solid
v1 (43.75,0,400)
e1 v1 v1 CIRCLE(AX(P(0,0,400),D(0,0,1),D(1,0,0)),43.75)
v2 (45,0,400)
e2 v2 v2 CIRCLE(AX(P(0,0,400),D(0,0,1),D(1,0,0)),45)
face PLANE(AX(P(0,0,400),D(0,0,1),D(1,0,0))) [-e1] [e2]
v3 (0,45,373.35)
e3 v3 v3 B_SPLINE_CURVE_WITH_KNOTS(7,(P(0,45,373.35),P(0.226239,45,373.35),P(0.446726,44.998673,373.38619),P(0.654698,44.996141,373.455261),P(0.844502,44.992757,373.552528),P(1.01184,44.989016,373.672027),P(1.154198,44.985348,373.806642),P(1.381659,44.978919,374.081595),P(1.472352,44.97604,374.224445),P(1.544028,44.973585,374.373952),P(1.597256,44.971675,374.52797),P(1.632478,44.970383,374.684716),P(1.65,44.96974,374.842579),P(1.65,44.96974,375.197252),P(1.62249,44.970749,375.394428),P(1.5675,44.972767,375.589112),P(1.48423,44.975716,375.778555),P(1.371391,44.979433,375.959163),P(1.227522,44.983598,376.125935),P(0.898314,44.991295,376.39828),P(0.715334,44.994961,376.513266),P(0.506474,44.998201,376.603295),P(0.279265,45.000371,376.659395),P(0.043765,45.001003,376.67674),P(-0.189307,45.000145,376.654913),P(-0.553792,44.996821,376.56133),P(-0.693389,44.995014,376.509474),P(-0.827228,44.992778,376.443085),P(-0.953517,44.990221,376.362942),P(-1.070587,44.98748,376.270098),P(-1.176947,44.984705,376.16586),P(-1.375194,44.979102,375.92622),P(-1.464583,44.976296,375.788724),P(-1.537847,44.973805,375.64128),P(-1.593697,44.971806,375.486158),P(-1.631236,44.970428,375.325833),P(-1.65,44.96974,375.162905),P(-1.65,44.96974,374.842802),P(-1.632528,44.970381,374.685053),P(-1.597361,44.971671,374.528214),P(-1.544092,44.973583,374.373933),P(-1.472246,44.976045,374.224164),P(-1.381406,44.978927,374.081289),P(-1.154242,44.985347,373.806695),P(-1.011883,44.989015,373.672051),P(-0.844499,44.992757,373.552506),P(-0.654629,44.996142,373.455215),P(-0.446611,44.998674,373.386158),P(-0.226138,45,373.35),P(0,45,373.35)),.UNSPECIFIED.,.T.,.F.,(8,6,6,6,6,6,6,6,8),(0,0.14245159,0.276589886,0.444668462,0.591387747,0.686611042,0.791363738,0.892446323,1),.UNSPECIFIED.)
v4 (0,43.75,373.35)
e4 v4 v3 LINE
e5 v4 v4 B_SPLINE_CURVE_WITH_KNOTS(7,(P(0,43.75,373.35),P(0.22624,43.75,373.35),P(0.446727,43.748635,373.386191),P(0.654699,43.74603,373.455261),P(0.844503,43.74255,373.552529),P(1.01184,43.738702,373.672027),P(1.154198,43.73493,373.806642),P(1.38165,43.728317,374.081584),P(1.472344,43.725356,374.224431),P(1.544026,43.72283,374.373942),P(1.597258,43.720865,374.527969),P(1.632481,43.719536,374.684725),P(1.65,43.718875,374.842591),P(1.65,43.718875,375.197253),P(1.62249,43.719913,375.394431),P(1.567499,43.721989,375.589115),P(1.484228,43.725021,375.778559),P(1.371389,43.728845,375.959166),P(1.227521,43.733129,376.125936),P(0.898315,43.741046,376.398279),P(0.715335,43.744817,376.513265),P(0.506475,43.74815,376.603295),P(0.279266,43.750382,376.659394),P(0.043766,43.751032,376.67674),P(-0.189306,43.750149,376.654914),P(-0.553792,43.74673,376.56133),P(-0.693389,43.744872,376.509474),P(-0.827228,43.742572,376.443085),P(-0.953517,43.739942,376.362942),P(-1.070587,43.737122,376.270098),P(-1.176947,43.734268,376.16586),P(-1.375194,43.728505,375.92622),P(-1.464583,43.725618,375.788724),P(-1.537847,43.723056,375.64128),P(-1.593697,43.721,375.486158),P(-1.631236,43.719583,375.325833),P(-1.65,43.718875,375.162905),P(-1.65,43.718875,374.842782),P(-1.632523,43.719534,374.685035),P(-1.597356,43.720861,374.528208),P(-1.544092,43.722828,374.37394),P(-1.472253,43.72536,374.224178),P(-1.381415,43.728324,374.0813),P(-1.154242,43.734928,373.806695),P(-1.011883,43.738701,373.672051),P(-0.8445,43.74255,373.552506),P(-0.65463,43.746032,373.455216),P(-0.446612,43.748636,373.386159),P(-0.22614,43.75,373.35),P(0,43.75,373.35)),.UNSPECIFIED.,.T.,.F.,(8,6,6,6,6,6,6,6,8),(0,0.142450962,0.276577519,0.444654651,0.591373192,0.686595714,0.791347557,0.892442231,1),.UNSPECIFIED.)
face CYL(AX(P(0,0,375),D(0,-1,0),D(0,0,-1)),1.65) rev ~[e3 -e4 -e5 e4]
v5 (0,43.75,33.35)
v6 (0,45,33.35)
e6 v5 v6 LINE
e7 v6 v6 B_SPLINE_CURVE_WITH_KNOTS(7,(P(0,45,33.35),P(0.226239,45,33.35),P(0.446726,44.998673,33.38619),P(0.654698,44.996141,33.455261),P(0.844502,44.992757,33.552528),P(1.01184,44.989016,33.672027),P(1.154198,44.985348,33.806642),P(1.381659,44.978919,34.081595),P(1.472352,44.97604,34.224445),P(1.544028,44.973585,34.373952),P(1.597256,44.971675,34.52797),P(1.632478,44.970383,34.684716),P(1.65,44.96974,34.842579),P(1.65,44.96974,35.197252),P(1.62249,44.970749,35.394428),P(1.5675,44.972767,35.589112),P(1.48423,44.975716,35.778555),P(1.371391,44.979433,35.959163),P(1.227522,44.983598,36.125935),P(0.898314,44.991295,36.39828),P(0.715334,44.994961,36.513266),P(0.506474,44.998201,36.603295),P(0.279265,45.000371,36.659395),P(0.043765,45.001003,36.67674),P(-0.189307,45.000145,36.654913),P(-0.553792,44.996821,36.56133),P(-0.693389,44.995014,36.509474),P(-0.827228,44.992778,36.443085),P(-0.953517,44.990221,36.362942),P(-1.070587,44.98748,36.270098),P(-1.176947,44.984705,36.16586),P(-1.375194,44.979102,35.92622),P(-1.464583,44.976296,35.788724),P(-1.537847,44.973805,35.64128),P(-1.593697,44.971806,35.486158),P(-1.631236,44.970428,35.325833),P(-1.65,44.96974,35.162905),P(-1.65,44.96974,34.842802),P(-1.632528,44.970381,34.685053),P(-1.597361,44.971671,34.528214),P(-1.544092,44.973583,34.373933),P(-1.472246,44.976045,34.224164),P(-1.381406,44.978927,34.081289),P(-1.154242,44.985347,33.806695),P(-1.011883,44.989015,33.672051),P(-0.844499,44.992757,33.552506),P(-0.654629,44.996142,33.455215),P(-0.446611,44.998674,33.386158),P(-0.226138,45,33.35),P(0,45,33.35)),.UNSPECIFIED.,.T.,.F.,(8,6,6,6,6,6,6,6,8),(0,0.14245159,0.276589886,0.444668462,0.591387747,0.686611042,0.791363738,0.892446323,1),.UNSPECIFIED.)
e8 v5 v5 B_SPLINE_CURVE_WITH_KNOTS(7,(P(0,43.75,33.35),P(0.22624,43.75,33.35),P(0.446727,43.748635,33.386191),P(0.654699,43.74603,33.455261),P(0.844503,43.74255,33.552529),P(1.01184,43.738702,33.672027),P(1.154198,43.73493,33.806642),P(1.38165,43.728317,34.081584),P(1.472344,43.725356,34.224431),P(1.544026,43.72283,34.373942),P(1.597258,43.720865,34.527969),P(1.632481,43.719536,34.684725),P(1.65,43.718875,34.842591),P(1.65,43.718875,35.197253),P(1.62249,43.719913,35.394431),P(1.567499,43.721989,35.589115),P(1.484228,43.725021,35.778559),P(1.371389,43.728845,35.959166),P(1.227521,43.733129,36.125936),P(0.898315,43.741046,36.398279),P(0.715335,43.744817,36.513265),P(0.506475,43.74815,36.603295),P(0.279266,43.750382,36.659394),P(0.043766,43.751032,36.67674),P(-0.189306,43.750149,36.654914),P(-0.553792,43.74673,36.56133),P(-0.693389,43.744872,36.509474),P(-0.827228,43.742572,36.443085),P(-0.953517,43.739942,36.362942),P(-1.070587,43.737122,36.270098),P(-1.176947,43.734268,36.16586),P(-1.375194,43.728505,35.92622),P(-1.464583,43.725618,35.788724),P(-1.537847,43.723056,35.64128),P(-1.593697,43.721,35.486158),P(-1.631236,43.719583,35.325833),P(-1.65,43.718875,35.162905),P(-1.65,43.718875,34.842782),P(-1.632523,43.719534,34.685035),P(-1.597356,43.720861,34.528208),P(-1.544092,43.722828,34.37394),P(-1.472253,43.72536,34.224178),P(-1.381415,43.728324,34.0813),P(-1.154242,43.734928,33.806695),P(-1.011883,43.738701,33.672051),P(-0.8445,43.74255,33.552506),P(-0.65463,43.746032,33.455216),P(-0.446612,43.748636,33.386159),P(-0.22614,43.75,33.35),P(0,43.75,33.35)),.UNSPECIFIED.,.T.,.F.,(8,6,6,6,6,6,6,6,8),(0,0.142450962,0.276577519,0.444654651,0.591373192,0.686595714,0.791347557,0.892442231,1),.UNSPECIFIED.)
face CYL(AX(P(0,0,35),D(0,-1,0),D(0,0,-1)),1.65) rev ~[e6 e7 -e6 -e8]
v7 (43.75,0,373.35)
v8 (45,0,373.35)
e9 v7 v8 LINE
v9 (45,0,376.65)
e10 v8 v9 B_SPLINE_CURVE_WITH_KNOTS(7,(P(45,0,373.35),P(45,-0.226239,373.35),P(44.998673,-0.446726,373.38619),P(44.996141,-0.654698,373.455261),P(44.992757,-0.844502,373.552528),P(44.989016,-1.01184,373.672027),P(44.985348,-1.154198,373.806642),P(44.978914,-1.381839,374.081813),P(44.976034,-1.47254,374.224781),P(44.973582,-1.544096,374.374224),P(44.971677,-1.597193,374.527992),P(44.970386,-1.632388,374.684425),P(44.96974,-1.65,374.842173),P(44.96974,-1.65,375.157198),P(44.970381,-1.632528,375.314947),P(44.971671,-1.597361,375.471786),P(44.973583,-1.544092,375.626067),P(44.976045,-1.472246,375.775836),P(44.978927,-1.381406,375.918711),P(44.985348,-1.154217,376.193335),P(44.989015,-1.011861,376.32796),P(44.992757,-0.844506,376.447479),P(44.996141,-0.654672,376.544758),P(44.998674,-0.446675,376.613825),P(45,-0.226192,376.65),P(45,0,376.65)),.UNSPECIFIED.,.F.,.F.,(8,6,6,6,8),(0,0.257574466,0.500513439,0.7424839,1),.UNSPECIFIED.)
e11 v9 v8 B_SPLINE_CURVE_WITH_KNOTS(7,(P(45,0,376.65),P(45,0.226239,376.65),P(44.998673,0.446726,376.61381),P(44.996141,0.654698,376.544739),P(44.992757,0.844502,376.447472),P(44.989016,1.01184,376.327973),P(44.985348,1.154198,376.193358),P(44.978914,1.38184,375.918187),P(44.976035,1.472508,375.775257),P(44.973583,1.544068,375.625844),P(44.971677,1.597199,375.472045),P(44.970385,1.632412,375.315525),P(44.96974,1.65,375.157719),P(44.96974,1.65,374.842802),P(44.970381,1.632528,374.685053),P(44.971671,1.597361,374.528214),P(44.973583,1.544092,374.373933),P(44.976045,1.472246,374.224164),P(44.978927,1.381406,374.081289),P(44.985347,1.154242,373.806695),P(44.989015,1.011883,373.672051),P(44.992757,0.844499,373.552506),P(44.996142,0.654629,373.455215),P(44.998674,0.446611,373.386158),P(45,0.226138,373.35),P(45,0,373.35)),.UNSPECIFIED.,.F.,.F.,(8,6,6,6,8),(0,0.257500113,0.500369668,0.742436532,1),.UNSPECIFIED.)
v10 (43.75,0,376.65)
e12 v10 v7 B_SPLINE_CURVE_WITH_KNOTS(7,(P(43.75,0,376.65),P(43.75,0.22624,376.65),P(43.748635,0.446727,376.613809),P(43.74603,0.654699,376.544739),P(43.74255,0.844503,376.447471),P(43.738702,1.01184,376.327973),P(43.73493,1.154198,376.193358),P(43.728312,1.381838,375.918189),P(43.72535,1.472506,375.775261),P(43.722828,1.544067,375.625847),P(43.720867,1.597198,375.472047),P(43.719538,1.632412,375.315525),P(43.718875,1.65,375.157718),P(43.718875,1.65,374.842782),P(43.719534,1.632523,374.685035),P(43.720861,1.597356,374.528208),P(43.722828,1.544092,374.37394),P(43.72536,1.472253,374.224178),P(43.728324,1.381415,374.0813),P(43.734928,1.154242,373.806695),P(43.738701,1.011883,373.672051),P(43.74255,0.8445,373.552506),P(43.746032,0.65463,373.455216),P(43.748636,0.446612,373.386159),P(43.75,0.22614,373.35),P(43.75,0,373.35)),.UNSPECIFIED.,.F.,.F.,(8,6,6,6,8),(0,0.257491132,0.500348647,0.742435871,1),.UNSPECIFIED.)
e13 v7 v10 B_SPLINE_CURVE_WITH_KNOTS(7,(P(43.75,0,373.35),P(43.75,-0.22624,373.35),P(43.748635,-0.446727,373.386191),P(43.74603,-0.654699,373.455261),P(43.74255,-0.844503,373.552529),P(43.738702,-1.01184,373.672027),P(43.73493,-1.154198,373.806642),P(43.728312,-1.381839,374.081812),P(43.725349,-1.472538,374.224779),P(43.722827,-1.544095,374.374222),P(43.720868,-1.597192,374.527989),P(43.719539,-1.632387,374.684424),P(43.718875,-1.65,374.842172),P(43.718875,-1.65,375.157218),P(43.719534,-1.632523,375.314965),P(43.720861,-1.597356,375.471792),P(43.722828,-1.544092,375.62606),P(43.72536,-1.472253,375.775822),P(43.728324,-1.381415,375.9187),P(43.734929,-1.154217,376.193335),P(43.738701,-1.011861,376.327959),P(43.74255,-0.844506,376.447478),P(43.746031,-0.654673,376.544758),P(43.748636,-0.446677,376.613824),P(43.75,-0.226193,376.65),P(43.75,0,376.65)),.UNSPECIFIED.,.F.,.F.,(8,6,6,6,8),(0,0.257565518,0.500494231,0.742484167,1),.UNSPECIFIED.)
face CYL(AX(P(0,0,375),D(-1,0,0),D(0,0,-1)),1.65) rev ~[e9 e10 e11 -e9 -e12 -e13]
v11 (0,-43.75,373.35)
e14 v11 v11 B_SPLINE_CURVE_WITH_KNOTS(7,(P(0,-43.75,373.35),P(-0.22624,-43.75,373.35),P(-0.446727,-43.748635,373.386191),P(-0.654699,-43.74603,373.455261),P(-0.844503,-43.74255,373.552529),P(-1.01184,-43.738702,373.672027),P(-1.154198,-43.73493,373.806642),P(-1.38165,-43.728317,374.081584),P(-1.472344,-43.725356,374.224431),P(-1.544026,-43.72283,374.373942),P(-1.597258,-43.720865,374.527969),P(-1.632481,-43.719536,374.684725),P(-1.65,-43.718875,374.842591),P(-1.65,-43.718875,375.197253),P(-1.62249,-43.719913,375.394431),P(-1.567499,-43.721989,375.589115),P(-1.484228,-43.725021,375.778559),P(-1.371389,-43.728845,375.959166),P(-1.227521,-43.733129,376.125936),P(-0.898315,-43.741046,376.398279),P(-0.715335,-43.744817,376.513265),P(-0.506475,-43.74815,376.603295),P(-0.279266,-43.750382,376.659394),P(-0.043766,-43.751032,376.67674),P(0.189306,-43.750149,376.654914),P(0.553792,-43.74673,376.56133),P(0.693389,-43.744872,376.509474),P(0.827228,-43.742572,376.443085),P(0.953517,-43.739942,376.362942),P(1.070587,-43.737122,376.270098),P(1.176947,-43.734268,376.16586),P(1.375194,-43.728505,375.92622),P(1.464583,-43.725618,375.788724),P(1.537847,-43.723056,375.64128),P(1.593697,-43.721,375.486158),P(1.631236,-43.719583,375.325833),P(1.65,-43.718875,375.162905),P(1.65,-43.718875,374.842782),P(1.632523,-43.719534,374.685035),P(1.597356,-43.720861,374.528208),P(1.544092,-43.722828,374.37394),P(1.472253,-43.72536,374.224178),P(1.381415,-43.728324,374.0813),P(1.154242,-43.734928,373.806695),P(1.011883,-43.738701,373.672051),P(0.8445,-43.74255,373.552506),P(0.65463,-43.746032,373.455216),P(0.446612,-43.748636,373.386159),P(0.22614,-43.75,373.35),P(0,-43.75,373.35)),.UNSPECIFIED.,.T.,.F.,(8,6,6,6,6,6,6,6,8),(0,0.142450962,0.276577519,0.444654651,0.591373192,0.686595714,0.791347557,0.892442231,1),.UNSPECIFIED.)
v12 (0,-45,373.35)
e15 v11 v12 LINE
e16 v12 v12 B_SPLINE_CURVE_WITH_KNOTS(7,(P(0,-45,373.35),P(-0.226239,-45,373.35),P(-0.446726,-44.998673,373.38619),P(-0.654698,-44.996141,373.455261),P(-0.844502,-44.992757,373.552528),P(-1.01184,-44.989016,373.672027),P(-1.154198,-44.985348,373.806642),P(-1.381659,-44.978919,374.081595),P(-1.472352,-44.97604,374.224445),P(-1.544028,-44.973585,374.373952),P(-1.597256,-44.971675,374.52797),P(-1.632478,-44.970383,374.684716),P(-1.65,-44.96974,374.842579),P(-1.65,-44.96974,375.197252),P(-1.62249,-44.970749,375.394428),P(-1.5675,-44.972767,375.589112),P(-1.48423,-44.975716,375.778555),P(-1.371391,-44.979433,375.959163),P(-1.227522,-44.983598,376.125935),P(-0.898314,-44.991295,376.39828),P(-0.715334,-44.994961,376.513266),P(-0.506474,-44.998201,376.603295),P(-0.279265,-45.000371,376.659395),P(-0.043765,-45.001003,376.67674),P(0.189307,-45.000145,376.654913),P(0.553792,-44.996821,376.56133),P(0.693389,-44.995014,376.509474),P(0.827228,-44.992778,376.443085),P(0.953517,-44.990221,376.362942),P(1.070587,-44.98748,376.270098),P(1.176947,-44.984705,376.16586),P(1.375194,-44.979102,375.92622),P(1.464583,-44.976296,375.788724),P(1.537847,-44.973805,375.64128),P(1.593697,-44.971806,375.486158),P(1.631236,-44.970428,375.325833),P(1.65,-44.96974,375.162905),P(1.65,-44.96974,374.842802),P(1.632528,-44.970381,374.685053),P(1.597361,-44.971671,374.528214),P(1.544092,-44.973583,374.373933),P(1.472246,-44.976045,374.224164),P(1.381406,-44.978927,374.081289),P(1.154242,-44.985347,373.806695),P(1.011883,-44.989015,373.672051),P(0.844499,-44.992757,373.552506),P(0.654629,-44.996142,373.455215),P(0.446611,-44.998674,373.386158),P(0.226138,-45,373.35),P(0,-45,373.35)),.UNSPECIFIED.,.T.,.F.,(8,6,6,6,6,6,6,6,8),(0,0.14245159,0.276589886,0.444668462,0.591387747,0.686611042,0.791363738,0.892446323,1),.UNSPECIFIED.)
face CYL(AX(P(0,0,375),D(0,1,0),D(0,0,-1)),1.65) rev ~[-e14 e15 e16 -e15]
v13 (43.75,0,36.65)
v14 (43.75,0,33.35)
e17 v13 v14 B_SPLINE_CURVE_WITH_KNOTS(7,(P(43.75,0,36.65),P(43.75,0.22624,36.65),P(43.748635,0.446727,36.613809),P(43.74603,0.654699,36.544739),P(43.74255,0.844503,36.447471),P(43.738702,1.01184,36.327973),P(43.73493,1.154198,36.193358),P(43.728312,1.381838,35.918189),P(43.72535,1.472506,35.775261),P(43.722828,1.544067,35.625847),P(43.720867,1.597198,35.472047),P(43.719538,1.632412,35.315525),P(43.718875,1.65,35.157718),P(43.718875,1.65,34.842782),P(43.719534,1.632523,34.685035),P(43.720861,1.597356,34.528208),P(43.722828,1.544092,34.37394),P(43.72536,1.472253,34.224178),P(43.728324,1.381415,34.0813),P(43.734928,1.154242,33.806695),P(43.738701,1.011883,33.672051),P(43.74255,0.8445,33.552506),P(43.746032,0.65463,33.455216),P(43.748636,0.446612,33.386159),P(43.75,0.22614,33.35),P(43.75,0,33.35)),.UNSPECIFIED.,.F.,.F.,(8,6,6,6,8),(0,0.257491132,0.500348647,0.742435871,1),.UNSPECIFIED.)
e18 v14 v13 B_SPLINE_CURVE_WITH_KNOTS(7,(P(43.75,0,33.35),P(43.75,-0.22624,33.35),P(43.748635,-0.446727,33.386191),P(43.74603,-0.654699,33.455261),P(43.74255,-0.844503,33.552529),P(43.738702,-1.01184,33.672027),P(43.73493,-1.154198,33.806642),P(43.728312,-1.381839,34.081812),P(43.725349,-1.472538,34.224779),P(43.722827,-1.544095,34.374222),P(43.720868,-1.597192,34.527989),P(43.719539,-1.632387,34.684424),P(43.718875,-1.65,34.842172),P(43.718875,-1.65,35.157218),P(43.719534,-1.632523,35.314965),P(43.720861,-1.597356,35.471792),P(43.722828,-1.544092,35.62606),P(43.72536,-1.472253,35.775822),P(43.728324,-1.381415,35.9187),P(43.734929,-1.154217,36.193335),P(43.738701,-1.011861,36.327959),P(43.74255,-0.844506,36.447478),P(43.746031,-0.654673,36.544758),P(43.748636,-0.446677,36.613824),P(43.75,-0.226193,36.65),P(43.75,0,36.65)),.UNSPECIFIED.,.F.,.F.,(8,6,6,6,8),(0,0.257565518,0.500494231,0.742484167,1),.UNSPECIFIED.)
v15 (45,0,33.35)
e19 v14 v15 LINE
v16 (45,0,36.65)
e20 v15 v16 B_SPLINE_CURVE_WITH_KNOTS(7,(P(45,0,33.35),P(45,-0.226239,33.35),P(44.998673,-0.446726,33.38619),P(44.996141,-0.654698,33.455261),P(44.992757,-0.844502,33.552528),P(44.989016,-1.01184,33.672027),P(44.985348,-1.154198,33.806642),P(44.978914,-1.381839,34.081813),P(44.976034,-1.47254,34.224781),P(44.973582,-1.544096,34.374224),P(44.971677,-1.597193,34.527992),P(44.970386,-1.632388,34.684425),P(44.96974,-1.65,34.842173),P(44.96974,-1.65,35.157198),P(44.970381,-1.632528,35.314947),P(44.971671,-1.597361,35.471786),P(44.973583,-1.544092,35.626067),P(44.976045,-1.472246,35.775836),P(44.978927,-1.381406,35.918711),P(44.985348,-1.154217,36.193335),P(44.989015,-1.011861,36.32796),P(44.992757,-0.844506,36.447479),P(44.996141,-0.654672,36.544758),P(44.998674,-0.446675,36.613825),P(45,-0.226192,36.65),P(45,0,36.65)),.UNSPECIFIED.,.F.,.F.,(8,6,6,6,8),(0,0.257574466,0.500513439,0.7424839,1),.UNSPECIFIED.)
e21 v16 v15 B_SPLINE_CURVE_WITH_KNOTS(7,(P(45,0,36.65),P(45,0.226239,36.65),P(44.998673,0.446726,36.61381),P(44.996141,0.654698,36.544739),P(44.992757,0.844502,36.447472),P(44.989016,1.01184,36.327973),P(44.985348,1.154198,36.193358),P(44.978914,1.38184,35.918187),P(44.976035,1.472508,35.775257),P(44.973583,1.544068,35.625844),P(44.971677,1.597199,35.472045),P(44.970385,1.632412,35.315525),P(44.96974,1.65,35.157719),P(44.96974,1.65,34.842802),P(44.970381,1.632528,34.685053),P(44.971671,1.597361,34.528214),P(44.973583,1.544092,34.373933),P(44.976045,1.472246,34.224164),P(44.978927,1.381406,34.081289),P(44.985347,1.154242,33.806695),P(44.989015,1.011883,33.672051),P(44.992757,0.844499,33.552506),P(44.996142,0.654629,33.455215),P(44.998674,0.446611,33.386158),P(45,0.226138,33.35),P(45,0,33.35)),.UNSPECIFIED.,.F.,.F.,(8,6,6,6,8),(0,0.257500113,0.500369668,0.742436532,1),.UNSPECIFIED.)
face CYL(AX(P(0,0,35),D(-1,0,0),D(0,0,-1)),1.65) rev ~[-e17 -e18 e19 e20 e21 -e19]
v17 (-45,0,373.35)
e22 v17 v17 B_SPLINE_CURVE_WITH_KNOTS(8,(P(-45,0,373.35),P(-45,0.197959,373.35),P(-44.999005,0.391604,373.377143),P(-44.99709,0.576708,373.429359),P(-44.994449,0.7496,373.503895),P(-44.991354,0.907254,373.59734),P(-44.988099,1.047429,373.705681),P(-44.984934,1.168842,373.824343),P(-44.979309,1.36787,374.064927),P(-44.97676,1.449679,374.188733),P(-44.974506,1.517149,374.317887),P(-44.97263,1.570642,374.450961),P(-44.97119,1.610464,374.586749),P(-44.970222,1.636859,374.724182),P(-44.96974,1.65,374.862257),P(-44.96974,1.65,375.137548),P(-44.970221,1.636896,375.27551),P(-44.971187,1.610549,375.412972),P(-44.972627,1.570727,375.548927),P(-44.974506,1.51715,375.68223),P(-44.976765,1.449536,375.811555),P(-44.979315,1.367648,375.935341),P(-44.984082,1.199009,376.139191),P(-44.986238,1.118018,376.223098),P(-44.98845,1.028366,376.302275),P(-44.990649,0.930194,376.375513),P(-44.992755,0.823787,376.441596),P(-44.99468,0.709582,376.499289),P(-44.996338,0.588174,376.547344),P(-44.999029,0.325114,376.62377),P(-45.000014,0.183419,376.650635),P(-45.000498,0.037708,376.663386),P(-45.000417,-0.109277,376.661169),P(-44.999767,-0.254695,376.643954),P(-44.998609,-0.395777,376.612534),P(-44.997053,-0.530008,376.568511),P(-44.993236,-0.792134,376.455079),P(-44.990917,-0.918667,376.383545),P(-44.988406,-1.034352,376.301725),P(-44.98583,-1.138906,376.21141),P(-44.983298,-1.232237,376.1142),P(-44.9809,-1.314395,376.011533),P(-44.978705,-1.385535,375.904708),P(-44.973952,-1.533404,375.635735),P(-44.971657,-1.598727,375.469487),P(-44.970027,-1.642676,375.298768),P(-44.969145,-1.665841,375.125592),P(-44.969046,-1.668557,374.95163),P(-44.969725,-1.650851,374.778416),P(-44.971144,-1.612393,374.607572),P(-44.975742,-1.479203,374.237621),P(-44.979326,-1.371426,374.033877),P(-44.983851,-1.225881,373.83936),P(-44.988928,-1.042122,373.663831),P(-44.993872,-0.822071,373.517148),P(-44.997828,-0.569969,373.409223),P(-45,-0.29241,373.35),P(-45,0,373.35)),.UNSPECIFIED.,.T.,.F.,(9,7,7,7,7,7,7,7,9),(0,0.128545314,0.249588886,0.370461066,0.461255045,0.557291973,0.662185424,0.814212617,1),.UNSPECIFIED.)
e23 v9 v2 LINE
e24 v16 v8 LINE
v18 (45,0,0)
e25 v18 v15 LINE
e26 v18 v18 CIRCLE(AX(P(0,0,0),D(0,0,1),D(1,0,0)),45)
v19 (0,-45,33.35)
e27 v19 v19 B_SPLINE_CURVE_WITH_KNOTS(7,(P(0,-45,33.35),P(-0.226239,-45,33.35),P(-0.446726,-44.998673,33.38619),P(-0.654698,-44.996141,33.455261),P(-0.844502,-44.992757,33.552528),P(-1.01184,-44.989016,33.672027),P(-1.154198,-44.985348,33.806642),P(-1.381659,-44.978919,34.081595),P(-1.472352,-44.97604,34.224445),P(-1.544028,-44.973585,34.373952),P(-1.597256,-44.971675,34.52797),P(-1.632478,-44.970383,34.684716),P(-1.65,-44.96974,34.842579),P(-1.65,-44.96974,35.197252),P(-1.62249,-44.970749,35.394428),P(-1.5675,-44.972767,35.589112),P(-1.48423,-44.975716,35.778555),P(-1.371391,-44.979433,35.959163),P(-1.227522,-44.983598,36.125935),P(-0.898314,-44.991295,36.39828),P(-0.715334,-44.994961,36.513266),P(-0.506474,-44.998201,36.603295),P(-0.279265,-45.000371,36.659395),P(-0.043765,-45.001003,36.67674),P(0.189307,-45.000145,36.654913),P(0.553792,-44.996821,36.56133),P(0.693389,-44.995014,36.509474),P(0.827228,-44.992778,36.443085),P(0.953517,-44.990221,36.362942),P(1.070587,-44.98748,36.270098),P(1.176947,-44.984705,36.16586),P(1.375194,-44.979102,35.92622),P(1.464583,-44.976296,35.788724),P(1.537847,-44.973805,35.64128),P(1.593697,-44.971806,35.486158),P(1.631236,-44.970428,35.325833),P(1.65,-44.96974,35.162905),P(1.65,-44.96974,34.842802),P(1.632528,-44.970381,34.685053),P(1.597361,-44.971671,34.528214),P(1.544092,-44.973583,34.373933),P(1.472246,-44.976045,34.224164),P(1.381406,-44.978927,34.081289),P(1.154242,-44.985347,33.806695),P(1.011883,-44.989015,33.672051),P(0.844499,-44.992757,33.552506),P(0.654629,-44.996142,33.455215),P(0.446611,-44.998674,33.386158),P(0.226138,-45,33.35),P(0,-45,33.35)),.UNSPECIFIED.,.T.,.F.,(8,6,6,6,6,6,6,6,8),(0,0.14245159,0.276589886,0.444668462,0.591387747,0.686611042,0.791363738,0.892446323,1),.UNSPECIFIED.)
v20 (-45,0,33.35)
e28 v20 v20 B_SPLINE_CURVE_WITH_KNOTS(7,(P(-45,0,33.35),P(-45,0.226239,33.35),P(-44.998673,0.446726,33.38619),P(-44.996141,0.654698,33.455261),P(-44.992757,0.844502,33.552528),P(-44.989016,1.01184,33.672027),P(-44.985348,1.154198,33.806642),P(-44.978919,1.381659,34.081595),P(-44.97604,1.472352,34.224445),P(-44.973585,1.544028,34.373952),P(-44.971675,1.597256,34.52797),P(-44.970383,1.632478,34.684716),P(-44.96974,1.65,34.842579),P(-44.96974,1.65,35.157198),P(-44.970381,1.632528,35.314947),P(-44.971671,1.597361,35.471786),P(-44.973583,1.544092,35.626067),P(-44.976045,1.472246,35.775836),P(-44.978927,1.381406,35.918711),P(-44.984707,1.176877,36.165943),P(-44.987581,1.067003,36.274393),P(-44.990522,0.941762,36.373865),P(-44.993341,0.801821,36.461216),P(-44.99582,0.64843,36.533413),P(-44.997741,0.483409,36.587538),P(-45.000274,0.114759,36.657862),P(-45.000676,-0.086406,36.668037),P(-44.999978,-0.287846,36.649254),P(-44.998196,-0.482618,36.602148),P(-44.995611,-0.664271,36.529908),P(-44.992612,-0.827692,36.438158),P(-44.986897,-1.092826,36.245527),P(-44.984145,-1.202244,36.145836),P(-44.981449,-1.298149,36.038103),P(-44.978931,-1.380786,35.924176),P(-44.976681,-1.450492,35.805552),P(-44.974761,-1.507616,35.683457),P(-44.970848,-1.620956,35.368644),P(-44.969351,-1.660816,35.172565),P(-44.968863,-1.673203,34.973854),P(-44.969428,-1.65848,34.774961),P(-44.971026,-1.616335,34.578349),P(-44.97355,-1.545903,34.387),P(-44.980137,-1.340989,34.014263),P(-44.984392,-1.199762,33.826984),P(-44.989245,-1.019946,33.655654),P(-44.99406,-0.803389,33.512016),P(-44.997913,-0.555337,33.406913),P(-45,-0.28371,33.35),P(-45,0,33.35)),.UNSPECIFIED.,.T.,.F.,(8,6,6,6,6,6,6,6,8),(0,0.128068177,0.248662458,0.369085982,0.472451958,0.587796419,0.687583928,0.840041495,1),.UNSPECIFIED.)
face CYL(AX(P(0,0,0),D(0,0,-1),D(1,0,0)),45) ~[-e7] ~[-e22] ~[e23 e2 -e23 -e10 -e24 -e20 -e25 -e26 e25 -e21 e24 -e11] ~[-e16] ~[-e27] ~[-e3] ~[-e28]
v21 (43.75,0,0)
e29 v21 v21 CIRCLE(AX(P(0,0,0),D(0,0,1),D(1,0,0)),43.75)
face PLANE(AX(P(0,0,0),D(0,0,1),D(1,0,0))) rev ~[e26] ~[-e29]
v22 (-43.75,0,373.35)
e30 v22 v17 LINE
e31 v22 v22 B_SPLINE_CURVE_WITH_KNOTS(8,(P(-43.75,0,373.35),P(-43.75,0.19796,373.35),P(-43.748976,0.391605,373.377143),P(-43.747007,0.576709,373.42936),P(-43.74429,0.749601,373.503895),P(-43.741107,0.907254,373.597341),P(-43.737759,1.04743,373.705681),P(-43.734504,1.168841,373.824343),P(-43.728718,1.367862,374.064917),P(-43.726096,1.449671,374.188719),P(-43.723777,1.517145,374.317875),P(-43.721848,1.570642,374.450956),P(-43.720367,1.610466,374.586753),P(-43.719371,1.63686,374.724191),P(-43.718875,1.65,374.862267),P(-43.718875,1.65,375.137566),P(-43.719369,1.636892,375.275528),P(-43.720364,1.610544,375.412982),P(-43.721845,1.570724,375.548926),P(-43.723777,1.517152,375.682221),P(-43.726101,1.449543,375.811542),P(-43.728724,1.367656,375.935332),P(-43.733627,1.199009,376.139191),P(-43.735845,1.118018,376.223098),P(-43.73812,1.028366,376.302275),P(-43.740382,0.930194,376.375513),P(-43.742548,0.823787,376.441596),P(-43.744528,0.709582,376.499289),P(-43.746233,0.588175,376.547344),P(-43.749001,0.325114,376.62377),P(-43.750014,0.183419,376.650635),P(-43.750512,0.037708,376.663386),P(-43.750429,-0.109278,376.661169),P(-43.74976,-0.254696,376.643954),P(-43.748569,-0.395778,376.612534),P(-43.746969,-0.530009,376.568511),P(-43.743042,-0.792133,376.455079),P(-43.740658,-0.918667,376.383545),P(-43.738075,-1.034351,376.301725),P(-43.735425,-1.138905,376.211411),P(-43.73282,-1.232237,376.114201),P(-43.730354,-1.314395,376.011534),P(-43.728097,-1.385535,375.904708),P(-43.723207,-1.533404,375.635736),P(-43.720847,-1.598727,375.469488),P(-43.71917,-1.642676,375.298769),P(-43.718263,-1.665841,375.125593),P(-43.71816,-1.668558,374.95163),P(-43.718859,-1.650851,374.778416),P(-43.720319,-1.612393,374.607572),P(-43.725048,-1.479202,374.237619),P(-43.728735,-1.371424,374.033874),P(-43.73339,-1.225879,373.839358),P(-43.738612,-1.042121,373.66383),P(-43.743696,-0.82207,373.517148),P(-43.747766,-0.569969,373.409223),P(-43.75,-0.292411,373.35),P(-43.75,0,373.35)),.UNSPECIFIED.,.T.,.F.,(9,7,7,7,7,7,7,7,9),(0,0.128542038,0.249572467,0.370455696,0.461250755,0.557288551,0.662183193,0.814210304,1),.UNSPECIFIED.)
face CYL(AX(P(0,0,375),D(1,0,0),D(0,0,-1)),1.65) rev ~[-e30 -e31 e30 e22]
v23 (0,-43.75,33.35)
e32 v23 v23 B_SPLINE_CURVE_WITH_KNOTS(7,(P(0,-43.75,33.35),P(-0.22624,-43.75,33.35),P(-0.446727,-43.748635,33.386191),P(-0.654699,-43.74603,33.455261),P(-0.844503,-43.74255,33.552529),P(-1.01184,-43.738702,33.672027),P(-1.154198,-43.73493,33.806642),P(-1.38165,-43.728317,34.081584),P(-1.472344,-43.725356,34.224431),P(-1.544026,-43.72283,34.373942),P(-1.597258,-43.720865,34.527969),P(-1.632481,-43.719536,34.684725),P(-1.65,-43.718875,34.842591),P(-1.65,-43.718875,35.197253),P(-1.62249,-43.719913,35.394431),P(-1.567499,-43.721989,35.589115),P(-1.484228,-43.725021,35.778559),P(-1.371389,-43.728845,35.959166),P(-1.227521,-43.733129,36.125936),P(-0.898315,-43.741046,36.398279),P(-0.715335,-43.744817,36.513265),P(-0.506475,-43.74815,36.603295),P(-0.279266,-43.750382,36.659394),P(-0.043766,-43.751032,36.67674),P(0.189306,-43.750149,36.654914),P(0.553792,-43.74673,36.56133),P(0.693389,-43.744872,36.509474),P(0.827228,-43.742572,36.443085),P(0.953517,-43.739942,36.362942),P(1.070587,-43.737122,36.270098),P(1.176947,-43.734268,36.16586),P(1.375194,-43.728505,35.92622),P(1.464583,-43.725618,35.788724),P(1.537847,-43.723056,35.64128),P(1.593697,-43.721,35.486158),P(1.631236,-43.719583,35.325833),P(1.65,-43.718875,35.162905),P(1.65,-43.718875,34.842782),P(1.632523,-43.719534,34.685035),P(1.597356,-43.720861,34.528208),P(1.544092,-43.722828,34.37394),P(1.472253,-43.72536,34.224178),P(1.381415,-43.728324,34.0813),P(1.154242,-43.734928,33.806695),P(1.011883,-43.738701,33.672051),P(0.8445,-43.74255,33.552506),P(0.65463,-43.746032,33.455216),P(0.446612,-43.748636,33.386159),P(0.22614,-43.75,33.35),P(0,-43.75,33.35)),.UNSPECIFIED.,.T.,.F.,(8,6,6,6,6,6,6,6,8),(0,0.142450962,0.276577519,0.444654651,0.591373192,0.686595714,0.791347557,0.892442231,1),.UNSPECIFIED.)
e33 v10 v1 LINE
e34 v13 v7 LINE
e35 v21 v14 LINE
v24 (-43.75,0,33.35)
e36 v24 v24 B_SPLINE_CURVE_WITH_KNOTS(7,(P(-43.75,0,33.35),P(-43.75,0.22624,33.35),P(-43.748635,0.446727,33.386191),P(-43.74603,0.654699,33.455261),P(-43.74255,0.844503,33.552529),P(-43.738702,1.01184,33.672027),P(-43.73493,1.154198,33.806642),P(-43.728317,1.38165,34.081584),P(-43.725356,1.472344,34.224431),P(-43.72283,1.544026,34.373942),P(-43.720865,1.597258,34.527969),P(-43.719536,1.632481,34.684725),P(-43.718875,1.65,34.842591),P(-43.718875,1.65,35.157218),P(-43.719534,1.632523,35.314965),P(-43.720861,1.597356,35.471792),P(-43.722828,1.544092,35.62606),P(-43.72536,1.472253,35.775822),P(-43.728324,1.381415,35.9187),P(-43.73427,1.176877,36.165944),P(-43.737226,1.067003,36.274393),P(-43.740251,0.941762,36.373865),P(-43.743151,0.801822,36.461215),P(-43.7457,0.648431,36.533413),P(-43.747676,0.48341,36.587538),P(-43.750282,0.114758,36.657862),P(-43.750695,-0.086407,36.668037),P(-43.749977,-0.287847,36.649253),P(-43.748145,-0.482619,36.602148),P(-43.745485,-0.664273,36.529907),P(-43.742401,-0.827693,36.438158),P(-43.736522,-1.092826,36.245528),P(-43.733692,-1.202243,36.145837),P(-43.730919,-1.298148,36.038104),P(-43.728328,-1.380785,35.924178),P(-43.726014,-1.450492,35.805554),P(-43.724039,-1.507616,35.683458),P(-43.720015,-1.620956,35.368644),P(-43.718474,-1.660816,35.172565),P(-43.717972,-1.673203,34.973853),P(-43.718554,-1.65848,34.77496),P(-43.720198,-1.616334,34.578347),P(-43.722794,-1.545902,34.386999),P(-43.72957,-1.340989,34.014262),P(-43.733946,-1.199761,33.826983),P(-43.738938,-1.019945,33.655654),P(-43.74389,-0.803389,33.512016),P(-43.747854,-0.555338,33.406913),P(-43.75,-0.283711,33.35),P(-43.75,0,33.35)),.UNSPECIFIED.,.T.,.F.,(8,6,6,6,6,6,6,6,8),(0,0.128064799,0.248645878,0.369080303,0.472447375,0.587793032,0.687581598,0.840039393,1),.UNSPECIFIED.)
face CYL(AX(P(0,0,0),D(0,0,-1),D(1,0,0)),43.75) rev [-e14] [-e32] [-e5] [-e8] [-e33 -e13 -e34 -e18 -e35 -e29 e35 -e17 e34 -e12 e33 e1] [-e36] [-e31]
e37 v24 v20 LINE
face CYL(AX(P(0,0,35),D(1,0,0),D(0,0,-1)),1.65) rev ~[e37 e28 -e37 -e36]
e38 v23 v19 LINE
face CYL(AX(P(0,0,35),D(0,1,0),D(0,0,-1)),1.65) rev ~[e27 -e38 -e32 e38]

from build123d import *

# Parameters (mm, degrees)
SKETCH1_R           = 45
SKETCH1_R_2         = 43.75
BOSS_EXTRUDE1_DEPTH = 400
SKETCH2_R           = 1.65
CUT_EXTRUDE1_DEPTH  = 406.030863022
CIRPATTERN1_COUNT   = 4


with BuildPart() as part:
    # Sketch1 → Boss-Extrude1 (new body)
    with BuildSketch(Plane.XY):
        Circle(SKETCH1_R)
        Circle(SKETCH1_R_2, mode=Mode.SUBTRACT)
    extrude(amount=BOSS_EXTRUDE1_DEPTH)

    # Sketch2 → Cut-Extrude1 (cut, through all)
    with BuildSketch(Plane(origin=(0, 0, 0), x_dir=(0, 0, -1), z_dir=(1, 0, 0))):
        with Locations((-35, 0)):
            Circle(SKETCH2_R)
        with Locations((-375, 0)):
            Circle(SKETCH2_R)
    cut_extrude1 = extrude(amount=-CUT_EXTRUDE1_DEPTH, mode=Mode.SUBTRACT)

    # CirPattern1: Cut-Extrude1 ×4 about axis
    cirpattern1_axis = Axis((0, 0, 400), (0, 0, -1))
    for i in range(1, CIRPATTERN1_COUNT):
        add(cut_extrude1.rotate(cirpattern1_axis, i * 360 / CIRPATTERN1_COUNT), mode=Mode.SUBTRACT)


solid = part.part
